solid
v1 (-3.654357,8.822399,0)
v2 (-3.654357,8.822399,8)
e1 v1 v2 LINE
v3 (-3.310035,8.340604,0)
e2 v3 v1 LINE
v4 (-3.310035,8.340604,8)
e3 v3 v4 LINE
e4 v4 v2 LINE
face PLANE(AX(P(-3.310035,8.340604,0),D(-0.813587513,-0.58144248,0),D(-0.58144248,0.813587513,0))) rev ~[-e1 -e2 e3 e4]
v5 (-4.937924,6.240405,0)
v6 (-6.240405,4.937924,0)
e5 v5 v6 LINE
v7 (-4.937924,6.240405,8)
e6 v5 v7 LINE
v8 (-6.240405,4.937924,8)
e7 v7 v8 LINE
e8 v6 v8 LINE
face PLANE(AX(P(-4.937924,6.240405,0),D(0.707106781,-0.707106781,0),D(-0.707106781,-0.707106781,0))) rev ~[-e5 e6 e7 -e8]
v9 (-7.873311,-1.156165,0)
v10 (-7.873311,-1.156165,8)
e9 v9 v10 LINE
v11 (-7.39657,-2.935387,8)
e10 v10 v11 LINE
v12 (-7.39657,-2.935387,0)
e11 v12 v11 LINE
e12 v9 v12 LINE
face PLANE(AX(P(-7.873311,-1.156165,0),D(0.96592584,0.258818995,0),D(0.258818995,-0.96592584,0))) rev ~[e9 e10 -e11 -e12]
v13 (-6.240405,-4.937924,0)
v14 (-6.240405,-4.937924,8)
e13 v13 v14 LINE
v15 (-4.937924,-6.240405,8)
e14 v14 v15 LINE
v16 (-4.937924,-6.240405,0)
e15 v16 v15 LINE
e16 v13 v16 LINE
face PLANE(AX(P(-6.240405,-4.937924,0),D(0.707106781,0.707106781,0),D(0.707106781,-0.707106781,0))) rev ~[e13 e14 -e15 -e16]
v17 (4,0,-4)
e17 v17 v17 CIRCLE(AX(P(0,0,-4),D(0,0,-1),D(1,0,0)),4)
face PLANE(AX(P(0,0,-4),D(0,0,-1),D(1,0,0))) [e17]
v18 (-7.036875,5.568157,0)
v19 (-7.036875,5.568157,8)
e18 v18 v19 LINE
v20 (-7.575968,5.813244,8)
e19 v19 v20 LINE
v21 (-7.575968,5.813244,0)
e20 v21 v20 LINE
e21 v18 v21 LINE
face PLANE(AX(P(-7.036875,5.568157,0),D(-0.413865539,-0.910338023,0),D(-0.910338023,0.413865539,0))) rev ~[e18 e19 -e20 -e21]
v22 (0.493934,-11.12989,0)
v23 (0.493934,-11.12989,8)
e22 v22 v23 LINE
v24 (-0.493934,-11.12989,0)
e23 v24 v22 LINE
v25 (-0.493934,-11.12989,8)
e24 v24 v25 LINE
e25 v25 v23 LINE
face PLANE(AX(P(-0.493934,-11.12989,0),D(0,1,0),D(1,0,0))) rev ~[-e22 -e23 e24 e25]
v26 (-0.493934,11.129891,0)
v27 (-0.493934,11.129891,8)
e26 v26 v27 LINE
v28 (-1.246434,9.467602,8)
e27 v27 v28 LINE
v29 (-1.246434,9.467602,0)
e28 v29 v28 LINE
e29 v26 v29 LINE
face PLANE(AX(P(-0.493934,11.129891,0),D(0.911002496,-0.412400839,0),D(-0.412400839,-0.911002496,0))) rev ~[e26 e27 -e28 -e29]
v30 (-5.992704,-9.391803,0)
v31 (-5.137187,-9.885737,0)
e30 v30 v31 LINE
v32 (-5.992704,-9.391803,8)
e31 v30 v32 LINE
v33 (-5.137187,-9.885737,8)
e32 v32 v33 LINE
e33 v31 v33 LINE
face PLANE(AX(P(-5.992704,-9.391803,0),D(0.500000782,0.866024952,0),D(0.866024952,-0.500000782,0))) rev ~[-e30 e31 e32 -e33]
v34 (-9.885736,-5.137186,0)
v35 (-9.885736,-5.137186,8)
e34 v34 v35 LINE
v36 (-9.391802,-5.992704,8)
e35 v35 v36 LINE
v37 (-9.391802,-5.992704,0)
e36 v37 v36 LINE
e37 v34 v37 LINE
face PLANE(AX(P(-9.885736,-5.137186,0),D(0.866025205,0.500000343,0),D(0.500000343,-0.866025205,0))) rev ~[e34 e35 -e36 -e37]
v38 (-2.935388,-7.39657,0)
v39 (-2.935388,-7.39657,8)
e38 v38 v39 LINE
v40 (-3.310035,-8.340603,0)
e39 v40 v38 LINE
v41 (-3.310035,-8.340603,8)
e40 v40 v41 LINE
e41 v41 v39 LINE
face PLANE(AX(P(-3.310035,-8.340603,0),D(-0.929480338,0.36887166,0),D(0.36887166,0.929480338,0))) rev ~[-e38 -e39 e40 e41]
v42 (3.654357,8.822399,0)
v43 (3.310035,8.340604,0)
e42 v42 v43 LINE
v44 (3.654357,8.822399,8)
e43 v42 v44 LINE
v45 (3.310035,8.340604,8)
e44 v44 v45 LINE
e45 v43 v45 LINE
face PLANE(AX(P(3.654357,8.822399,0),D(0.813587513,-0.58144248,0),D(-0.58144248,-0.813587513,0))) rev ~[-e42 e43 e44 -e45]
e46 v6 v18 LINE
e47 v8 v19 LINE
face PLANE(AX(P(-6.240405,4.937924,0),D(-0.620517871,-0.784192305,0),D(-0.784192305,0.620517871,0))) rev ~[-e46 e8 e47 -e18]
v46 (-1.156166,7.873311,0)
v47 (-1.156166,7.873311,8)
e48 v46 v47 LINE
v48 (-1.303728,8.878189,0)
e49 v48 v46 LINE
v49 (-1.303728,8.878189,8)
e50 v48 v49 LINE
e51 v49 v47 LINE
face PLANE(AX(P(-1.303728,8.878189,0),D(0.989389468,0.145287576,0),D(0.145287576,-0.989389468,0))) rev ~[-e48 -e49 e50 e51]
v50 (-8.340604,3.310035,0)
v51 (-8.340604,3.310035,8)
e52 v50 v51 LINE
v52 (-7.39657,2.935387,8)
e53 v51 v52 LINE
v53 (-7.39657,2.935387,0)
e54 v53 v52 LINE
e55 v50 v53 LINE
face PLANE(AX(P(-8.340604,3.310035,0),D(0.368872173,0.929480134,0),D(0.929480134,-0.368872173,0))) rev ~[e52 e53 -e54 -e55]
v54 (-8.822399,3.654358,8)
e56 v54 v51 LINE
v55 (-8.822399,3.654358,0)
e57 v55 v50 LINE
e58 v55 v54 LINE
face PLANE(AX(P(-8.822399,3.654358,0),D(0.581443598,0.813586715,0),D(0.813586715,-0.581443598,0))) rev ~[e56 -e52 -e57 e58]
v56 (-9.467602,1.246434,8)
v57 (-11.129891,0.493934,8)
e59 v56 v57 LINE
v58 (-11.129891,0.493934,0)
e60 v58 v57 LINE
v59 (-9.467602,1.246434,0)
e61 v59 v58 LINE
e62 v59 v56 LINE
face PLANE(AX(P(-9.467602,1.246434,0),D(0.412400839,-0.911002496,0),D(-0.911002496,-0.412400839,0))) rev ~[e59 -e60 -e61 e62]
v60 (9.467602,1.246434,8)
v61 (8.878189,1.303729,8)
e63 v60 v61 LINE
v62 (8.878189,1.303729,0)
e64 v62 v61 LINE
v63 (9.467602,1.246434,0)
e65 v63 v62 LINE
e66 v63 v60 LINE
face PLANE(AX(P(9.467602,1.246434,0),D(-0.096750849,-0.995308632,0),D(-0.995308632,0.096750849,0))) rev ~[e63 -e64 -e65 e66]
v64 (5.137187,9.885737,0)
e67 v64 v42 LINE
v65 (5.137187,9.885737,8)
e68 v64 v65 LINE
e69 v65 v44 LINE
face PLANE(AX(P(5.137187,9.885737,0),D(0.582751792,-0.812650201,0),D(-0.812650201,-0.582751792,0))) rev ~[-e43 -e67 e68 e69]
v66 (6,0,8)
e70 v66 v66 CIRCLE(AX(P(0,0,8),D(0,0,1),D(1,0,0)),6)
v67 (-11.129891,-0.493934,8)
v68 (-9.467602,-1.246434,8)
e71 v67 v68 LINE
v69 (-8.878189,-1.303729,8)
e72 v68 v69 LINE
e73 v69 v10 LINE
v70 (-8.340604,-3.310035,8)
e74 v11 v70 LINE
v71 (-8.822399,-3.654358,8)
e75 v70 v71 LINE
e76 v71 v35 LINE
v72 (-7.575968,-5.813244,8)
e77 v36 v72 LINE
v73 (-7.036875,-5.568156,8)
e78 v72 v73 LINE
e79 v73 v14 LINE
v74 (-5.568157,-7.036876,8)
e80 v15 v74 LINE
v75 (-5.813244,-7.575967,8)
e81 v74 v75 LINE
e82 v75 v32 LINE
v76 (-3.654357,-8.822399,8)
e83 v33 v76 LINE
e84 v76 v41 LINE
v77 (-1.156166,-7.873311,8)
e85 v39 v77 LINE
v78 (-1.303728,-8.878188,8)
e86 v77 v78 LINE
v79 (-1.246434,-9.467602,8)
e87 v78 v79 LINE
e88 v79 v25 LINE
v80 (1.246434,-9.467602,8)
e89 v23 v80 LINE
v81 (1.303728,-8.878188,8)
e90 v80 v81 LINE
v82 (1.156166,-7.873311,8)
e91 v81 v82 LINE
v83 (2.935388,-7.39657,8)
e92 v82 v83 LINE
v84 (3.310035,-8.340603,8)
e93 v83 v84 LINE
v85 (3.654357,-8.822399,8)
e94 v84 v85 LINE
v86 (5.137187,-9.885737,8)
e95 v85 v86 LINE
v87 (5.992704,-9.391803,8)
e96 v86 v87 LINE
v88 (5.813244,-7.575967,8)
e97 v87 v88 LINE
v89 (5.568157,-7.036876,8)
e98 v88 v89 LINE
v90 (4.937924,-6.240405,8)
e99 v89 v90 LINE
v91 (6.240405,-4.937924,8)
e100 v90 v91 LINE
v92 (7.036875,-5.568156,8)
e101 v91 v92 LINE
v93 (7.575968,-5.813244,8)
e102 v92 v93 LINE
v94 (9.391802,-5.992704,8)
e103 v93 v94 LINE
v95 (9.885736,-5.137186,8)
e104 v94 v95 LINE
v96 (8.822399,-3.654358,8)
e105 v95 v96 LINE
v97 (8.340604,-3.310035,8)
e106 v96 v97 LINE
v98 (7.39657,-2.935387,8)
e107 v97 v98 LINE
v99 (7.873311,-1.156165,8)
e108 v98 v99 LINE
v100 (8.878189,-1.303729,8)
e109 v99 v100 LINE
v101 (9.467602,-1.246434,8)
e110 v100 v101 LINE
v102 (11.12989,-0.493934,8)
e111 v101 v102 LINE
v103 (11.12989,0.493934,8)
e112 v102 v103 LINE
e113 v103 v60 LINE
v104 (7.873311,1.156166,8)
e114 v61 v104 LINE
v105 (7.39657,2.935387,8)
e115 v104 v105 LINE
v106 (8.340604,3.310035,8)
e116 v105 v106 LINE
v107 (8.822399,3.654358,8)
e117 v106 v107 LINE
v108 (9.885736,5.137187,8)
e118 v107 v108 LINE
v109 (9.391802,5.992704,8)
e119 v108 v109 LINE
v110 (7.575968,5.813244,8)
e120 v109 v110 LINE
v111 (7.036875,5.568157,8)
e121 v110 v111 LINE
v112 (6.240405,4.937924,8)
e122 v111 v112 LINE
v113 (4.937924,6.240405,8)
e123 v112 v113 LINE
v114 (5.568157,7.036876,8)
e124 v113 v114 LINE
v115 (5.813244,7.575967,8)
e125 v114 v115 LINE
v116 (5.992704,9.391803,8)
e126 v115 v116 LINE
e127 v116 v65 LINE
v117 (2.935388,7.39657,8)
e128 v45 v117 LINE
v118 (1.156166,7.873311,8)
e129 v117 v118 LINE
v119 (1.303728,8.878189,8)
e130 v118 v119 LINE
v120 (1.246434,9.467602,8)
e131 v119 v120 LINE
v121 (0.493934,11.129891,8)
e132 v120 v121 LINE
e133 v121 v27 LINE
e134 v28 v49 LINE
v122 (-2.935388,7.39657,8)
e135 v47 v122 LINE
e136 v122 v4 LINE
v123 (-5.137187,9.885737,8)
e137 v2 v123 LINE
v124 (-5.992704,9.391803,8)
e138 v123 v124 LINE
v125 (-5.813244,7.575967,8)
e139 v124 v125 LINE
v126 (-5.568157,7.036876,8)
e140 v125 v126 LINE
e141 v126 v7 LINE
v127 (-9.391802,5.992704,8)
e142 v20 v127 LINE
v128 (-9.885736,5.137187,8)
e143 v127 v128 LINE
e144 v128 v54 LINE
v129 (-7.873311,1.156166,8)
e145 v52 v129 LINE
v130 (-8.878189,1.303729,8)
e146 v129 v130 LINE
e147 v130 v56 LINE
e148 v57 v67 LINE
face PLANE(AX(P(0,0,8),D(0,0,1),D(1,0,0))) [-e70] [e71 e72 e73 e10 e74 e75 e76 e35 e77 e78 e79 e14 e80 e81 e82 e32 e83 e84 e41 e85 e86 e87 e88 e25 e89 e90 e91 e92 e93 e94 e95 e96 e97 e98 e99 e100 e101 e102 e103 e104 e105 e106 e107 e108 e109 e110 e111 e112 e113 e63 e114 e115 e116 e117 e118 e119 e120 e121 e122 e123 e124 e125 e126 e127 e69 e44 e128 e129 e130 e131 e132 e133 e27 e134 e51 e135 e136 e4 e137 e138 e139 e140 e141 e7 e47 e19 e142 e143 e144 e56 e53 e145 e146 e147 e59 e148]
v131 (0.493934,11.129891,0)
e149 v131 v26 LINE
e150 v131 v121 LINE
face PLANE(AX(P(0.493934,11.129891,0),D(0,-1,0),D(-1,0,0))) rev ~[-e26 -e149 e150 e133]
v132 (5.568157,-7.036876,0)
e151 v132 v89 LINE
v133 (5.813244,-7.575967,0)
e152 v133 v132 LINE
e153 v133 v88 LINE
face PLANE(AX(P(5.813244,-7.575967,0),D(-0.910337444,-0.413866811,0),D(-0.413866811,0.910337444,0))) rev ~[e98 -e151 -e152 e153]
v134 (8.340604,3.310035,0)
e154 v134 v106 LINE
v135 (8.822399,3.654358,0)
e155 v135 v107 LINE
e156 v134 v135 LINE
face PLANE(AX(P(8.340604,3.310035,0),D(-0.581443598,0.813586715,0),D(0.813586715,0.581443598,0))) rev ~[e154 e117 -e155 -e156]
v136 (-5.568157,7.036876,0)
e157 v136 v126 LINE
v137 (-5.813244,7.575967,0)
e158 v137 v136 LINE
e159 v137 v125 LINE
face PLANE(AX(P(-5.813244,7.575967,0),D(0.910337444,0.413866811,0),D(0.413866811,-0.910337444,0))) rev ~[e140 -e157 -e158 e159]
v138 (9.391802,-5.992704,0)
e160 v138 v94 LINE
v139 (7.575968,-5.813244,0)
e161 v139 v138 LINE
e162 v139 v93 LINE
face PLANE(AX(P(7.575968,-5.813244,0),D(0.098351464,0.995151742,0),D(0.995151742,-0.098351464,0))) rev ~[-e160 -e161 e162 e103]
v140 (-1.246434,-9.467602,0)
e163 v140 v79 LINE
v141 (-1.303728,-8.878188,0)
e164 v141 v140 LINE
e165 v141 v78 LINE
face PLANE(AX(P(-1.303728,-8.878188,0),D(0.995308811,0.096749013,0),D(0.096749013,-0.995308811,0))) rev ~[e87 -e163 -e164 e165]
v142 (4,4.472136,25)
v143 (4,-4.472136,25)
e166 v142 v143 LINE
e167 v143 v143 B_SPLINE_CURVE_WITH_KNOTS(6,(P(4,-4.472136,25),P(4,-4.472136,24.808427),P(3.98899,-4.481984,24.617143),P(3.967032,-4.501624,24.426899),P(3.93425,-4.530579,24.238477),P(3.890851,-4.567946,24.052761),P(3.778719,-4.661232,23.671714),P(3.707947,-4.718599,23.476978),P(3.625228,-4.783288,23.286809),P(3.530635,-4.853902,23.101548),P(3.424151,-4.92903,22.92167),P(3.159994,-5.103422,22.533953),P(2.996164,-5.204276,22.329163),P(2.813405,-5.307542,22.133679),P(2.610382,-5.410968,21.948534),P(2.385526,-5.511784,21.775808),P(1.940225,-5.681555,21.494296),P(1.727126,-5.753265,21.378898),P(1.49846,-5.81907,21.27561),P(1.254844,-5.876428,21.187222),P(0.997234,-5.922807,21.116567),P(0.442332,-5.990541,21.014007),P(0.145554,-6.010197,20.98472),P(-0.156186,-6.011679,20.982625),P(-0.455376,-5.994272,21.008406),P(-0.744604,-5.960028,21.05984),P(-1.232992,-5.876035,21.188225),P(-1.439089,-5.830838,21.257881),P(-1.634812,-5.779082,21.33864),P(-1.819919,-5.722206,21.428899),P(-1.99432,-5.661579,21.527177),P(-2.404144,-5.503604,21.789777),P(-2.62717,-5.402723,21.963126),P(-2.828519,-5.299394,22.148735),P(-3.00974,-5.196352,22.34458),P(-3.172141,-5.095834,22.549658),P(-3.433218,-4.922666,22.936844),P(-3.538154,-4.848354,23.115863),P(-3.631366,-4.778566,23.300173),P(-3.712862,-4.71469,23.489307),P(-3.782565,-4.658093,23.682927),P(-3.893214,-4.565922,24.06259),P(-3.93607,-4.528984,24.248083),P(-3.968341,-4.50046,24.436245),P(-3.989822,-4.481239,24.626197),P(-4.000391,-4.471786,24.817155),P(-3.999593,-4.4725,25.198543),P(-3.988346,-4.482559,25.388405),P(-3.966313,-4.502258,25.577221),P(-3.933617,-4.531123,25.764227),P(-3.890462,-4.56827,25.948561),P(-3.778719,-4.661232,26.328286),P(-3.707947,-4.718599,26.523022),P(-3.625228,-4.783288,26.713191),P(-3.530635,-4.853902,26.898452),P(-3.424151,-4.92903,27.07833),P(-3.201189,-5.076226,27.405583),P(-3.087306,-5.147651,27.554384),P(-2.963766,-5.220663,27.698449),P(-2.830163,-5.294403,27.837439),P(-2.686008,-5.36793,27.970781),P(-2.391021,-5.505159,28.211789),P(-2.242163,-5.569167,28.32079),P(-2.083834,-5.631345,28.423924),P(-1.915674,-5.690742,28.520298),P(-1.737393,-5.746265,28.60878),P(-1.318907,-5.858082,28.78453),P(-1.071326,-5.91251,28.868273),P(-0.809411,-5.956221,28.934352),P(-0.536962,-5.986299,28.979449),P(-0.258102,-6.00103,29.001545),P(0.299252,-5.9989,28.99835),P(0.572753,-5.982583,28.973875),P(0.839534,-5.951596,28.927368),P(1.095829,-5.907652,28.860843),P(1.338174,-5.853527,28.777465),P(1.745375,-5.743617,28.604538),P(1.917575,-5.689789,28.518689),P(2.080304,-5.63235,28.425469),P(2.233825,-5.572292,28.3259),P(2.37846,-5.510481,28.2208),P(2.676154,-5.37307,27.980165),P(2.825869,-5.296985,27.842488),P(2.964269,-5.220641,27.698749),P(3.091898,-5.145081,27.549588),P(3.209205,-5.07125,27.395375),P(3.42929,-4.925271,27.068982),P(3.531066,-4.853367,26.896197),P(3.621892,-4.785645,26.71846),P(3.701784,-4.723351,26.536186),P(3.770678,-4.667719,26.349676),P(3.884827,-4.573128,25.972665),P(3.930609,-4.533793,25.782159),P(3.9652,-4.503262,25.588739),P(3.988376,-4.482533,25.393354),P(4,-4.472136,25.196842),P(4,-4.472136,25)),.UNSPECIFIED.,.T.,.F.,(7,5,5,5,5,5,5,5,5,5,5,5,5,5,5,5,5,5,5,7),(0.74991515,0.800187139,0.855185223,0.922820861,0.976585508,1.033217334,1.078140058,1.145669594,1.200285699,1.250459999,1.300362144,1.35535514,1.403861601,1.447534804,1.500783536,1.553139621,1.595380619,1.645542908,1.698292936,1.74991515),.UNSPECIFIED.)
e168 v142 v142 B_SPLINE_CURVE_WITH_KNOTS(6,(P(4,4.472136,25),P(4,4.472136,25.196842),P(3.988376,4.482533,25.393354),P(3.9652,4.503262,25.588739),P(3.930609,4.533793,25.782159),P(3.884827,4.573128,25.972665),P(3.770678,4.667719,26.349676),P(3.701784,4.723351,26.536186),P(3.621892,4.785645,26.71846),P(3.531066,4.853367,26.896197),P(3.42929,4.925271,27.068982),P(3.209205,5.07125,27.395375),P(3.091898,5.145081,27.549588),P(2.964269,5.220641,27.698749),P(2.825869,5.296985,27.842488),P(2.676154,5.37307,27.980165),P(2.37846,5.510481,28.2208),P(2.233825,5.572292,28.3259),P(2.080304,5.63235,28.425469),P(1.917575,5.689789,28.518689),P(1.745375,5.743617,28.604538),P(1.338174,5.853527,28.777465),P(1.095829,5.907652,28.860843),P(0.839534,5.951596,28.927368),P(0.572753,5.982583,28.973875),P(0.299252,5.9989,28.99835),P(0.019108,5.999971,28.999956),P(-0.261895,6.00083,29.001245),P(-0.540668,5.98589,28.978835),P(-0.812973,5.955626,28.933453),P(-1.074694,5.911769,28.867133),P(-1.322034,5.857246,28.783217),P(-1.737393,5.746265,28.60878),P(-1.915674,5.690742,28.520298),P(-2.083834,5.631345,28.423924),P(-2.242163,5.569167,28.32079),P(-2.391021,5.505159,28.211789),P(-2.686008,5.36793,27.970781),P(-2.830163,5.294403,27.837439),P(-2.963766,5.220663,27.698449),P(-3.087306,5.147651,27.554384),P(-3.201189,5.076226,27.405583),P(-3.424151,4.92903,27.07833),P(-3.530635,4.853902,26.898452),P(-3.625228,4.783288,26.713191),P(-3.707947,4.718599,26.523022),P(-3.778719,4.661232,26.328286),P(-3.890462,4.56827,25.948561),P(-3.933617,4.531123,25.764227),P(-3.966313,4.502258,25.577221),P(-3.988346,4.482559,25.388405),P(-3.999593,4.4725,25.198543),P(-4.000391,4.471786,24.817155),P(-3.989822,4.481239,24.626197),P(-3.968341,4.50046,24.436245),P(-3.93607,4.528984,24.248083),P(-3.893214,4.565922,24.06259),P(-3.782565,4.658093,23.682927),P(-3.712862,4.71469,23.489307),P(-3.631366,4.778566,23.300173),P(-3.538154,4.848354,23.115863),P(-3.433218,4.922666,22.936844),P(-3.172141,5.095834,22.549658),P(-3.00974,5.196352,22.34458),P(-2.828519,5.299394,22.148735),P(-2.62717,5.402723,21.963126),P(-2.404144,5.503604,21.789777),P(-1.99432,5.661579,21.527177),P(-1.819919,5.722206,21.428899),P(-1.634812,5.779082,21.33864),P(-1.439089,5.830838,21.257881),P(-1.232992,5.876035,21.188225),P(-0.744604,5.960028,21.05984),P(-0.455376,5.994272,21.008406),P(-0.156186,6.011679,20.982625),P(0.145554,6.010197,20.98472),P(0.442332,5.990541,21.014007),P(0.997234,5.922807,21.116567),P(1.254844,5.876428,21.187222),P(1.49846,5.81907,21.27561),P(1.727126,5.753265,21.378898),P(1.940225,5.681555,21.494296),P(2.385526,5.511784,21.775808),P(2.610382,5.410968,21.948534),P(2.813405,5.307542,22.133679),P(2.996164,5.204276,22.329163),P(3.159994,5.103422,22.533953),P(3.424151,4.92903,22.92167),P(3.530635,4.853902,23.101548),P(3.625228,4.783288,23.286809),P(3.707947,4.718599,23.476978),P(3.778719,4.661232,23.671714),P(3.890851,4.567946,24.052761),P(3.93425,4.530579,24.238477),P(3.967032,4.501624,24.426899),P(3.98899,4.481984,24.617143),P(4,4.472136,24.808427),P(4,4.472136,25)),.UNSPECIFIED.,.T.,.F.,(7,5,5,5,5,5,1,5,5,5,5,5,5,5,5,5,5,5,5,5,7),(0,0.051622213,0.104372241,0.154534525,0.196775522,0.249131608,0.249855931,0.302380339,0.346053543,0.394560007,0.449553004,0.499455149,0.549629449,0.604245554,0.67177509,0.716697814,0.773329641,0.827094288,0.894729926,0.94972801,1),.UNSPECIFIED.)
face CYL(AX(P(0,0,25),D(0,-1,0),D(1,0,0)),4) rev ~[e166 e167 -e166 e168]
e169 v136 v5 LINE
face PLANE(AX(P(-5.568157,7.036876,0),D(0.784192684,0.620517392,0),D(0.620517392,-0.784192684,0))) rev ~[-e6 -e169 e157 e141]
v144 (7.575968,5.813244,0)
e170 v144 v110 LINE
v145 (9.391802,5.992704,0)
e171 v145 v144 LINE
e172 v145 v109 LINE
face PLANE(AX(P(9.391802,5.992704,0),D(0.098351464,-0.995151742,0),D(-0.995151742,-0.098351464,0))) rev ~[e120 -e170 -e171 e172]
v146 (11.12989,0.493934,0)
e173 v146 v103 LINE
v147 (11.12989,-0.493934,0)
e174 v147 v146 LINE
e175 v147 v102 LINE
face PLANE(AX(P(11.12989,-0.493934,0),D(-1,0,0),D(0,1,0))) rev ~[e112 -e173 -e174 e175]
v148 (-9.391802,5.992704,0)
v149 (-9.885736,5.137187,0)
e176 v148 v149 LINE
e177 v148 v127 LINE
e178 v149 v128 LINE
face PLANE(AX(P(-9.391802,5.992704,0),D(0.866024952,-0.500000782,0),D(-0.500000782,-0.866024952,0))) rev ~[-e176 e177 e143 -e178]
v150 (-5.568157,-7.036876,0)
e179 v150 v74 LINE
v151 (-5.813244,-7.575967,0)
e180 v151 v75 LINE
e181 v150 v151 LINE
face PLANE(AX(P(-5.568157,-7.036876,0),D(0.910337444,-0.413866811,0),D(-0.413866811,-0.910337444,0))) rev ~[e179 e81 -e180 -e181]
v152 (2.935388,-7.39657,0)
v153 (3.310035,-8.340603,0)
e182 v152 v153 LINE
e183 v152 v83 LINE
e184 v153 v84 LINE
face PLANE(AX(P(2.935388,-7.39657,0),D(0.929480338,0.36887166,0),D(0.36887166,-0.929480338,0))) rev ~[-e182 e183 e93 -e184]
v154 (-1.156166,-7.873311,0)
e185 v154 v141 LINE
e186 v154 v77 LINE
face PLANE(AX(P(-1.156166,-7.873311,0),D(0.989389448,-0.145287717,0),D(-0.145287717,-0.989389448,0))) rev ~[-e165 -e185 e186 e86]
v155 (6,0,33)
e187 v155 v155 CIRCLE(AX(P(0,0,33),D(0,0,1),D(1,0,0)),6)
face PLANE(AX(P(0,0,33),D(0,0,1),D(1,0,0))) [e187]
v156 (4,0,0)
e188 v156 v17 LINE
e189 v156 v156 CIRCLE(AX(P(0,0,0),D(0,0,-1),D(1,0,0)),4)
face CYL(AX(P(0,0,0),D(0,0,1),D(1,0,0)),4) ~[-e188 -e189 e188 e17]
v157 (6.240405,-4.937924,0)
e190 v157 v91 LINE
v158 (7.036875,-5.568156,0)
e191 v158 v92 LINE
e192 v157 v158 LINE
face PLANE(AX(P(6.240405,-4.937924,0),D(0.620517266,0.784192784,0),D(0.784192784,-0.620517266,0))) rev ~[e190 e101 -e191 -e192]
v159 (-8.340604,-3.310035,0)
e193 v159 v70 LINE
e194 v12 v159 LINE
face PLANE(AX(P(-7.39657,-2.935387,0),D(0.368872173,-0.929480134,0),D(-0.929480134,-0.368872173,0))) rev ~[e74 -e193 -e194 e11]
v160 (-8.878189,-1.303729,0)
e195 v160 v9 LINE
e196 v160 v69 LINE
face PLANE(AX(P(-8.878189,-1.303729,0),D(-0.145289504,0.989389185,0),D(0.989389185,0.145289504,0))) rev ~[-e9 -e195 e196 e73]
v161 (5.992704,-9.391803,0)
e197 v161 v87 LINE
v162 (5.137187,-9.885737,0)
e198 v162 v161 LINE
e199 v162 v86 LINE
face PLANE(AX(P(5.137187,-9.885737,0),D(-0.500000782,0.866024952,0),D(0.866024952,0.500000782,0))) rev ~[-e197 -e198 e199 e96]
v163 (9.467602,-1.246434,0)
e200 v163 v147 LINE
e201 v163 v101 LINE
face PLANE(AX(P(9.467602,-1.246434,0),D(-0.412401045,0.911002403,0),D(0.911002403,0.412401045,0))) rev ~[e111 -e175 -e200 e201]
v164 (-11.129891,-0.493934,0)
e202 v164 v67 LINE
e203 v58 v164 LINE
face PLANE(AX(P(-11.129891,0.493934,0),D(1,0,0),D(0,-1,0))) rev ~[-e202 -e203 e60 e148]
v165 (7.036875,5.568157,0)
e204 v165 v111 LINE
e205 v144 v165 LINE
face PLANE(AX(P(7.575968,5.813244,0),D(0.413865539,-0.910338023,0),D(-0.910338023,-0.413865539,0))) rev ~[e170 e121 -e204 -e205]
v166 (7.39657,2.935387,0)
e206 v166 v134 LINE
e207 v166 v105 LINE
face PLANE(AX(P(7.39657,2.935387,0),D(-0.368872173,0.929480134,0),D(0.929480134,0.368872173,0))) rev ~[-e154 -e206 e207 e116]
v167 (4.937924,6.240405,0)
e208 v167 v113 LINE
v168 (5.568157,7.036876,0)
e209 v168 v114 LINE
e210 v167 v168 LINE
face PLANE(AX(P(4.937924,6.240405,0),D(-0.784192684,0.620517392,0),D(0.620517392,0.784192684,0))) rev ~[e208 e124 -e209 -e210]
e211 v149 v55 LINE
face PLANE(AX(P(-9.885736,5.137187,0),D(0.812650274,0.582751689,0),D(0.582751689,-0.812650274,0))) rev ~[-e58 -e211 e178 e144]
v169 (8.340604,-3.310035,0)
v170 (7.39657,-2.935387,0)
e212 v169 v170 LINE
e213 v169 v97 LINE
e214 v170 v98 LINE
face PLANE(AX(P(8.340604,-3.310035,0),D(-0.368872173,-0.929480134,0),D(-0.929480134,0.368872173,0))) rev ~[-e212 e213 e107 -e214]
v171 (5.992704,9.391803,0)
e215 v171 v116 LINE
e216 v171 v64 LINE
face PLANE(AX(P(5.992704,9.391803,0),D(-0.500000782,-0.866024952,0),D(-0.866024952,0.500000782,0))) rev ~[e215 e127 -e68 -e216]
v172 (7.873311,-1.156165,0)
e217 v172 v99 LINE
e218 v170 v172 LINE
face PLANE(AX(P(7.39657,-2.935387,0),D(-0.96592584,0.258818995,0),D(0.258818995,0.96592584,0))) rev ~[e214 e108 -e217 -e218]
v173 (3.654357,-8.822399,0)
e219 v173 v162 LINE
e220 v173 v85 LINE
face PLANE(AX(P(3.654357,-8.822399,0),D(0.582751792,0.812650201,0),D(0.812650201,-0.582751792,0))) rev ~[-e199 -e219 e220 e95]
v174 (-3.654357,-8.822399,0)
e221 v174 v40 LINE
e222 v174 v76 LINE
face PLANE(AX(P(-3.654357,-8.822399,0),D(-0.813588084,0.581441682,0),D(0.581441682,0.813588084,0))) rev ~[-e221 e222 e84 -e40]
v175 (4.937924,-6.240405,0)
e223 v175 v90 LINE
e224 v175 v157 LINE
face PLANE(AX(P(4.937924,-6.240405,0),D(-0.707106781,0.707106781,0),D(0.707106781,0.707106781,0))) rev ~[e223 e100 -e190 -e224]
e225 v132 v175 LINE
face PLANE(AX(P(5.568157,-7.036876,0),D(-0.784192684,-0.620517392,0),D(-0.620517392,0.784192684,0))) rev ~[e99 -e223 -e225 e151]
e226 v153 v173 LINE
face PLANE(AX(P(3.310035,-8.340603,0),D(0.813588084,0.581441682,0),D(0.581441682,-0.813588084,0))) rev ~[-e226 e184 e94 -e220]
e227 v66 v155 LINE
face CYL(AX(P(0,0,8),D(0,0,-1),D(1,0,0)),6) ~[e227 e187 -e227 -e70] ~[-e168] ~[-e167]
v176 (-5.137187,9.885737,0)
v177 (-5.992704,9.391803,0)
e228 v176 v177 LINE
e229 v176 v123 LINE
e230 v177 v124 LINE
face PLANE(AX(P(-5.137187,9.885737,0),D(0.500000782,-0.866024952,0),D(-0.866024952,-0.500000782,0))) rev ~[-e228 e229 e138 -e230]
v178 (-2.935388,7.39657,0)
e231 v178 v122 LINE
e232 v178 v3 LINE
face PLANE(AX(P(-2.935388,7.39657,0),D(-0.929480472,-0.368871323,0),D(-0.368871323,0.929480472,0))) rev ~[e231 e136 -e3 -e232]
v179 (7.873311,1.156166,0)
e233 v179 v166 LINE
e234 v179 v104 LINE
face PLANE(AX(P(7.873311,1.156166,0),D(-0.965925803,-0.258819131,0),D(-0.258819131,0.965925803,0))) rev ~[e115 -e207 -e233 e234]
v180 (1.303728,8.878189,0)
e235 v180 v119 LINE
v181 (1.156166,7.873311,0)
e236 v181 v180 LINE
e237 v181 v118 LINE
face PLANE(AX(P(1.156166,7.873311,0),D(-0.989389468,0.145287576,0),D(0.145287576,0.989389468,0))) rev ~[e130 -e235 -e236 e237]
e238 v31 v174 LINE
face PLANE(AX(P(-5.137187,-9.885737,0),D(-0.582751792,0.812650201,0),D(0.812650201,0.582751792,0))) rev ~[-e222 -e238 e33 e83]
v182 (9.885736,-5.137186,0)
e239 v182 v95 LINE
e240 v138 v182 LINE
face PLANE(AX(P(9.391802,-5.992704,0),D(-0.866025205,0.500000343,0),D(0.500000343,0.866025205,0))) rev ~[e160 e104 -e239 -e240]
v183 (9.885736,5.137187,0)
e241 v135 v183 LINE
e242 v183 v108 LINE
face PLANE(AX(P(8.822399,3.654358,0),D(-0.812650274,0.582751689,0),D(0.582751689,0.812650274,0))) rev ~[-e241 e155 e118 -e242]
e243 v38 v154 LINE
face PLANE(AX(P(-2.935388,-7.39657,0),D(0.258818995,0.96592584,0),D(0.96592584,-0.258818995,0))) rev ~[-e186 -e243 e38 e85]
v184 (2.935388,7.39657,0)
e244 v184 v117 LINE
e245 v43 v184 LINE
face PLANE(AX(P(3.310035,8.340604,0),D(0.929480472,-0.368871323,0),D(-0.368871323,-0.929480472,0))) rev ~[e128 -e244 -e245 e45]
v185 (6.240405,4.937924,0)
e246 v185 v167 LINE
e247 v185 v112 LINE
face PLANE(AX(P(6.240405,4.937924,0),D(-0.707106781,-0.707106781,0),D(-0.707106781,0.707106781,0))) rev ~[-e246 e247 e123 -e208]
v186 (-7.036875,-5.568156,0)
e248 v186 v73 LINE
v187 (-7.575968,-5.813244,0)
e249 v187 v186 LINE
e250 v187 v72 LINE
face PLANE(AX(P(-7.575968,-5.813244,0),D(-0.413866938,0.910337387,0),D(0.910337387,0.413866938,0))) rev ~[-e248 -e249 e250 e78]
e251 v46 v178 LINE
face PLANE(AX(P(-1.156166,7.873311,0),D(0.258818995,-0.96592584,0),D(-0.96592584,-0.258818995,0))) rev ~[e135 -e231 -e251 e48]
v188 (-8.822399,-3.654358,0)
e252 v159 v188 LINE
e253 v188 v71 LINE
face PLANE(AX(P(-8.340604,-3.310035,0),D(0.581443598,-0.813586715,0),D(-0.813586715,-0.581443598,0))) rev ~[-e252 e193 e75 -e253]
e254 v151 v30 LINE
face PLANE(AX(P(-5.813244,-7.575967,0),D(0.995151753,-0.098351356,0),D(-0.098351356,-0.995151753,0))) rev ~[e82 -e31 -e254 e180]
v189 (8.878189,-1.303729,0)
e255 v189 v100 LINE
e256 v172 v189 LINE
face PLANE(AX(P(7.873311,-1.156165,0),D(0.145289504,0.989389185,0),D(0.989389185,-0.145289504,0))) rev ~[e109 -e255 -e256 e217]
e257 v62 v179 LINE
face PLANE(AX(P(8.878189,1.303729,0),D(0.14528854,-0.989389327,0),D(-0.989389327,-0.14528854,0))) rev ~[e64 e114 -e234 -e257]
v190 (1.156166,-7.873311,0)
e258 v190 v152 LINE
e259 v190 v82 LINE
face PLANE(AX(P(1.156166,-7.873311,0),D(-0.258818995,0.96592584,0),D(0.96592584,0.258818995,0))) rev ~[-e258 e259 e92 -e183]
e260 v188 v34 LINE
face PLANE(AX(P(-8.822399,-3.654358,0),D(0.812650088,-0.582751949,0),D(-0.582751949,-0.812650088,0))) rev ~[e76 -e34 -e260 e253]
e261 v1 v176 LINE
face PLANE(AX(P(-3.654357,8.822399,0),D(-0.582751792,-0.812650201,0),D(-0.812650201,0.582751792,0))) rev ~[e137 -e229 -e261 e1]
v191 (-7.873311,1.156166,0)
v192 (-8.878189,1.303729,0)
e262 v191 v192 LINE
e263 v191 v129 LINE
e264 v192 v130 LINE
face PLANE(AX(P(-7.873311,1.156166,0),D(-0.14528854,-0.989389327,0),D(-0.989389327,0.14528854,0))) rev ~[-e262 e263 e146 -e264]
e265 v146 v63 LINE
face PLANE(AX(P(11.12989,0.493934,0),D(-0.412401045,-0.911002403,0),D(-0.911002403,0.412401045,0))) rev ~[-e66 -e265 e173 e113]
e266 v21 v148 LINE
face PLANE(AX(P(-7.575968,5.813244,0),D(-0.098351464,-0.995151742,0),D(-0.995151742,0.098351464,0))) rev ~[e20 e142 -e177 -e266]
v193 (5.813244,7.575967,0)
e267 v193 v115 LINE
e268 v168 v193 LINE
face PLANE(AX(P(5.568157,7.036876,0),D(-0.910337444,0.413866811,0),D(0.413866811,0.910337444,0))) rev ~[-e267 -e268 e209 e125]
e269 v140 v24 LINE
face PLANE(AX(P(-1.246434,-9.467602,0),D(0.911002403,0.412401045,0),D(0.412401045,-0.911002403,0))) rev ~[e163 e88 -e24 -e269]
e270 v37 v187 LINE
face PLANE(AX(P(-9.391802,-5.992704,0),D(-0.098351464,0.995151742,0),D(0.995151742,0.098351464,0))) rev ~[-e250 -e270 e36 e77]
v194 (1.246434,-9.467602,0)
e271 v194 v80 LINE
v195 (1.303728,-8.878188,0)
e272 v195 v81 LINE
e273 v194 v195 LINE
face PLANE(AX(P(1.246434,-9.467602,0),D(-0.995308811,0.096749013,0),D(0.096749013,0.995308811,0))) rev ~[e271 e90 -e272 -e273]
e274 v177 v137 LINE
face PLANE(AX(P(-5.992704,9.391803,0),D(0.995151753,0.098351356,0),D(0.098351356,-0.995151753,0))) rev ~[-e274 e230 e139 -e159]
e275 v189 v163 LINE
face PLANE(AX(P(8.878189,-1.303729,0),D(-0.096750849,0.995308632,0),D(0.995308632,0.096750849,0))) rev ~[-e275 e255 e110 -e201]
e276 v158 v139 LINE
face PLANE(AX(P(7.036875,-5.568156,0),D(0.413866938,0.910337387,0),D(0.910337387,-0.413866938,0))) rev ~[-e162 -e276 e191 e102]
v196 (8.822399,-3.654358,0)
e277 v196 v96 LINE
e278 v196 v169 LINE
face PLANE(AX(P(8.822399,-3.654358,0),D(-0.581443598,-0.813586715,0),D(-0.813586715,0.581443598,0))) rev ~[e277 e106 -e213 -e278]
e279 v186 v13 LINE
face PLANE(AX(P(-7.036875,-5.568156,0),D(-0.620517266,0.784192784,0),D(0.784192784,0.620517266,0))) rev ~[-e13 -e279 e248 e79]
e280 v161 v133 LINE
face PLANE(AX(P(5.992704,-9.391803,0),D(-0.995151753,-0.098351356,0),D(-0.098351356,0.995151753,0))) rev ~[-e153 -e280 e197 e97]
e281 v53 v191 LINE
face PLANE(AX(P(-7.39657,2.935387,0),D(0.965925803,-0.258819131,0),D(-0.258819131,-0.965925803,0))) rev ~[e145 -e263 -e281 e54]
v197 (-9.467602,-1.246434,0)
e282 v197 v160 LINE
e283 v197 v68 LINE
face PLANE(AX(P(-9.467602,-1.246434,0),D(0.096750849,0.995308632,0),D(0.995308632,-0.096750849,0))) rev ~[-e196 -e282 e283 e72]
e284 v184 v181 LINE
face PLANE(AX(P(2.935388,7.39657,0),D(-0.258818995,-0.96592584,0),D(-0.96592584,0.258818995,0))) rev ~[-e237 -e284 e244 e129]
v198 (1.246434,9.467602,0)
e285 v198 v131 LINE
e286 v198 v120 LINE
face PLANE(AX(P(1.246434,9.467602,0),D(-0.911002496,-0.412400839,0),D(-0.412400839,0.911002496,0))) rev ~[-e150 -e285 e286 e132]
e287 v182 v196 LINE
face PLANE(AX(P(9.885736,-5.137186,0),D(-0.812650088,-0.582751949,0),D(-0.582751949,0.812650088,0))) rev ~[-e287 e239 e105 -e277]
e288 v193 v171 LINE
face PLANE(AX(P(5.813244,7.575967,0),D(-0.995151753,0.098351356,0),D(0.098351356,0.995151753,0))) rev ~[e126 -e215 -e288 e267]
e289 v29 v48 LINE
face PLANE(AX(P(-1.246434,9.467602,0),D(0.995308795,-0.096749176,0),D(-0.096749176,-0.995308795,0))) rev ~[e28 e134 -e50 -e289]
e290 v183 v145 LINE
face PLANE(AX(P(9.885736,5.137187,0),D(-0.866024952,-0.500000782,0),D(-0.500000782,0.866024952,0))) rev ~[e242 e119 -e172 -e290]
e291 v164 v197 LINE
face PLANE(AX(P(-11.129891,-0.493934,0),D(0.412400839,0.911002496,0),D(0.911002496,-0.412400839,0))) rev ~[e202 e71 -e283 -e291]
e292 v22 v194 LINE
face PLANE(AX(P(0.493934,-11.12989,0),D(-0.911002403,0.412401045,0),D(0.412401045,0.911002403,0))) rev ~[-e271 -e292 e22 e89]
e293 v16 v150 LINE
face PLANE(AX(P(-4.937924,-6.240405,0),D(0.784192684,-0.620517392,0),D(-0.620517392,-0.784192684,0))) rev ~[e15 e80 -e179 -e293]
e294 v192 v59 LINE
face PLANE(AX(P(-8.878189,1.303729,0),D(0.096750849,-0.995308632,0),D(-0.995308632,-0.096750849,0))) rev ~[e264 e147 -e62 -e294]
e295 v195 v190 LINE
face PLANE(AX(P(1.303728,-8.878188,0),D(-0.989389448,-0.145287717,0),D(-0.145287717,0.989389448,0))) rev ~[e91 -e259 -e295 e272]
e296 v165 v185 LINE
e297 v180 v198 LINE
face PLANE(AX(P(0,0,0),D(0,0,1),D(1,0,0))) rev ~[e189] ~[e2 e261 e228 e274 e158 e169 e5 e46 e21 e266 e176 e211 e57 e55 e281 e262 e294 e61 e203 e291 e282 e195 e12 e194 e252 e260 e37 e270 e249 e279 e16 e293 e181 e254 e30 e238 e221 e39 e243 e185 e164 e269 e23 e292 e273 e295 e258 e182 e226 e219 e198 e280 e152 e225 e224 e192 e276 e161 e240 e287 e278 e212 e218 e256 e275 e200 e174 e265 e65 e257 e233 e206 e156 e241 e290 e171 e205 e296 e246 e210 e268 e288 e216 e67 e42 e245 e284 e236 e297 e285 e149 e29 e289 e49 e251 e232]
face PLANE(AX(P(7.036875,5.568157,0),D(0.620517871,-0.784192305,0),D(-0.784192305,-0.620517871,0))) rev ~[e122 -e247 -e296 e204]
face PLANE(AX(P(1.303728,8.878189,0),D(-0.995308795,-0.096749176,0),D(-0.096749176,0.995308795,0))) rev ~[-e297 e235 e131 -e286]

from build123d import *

# Parameters (mm, degrees)
F1_DEPTH = 8
F2_R     = 6
F3_DEPTH = 25
F4_R     = 4
F5_DEPTH = 4
F6_R     = 4
F7_DEPTH = 6


with BuildPart() as f1:
    # F0 (on Top) → F1 (new body)
    with BuildSketch(Plane.XY):
        Polygon((8.878189, 1.303729), (7.873311, 1.156166), (7.39657, 2.935387), (8.340604, 3.310035), (8.822399, 3.654358), (9.885736, 5.137187), (9.391802, 5.992704), (7.575968, 5.813244), (7.036875, 5.568157), (6.240405, 4.937924), (4.937924, 6.240405), (5.568157, 7.036876), (5.813244, 7.575967), (5.992704, 9.391803), (5.137187, 9.885737), (3.654357, 8.822399), (3.310035, 8.340604), (2.935388, 7.39657), (1.156166, 7.873311), (1.303728, 8.878189), (1.246434, 9.467602), (0.493934, 11.129891), (-0.493934, 11.129891), (-1.246434, 9.467602), (-1.303728, 8.878189), (-1.156166, 7.873311), (-2.935388, 7.39657), (-3.310035, 8.340604), (-3.654357, 8.822399), (-5.137187, 9.885737), (-5.992704, 9.391803), (-5.813244, 7.575967), (-5.568157, 7.036876), (-4.937924, 6.240405), (-6.240405, 4.937924), (-7.036875, 5.568157), (-7.575968, 5.813244), (-9.391802, 5.992704), (-9.885736, 5.137187), (-8.822399, 3.654358), (-8.340604, 3.310035), (-7.39657, 2.935387), (-7.873311, 1.156166), (-8.878189, 1.303729), (-9.467602, 1.246434), (-11.129891, 0.493934), (-11.129891, -0.493934), (-9.467602, -1.246434), (-8.878189, -1.303729), (-7.873311, -1.156165), (-7.39657, -2.935387), (-8.340604, -3.310035), (-8.822399, -3.654358), (-9.885736, -5.137186), (-9.391802, -5.992704), (-7.575968, -5.813244), (-7.036875, -5.568156), (-6.240405, -4.937924), (-4.937924, -6.240405), (-5.568157, -7.036876), (-5.813244, -7.575967), (-5.992704, -9.391803), (-5.137187, -9.885737), (-3.654357, -8.822399), (-3.310035, -8.340603), (-2.935388, -7.39657), (-1.156166, -7.873311), (-1.303728, -8.878188), (-1.246434, -9.467602), (-0.493934, -11.12989), (0.493934, -11.12989), (1.246434, -9.467602), (1.303728, -8.878188), (1.156166, -7.873311), (2.935388, -7.39657), (3.310035, -8.340603), (3.654357, -8.822399), (5.137187, -9.885737), (5.992704, -9.391803), (5.813244, -7.575967), (5.568157, -7.036876), (4.937924, -6.240405), (6.240405, -4.937924), (7.036875, -5.568156), (7.575968, -5.813244), (9.391802, -5.992704), (9.885736, -5.137186), (8.822399, -3.654358), (8.340604, -3.310035), (7.39657, -2.935387), (7.873311, -1.156165), (8.878189, -1.303729), (9.467602, -1.246434), (11.12989, -0.493934), (11.12989, 0.493934), (9.467602, 1.246434), align=None)
    extrude(amount=F1_DEPTH)

    # F2 (on face) → F3 (join)
    with BuildSketch(Plane.XY.offset(8)):
        Circle(F2_R)
    extrude(amount=F3_DEPTH)

    # F4 (on face) → F5 (join)
    with BuildSketch(Plane(origin=(0, 0, 0), x_dir=(1, 0, 0), z_dir=(0, 0, -1))):
        Circle(F4_R)
    extrude(amount=F5_DEPTH)

    # F6 (on Front) → F7 (cut, symmetric)
    with BuildSketch(Plane.XZ):
        with Locations((0, 25)):
            Circle(F6_R)
    extrude(amount=F7_DEPTH, both=True, mode=Mode.SUBTRACT)


solid = f1.part
